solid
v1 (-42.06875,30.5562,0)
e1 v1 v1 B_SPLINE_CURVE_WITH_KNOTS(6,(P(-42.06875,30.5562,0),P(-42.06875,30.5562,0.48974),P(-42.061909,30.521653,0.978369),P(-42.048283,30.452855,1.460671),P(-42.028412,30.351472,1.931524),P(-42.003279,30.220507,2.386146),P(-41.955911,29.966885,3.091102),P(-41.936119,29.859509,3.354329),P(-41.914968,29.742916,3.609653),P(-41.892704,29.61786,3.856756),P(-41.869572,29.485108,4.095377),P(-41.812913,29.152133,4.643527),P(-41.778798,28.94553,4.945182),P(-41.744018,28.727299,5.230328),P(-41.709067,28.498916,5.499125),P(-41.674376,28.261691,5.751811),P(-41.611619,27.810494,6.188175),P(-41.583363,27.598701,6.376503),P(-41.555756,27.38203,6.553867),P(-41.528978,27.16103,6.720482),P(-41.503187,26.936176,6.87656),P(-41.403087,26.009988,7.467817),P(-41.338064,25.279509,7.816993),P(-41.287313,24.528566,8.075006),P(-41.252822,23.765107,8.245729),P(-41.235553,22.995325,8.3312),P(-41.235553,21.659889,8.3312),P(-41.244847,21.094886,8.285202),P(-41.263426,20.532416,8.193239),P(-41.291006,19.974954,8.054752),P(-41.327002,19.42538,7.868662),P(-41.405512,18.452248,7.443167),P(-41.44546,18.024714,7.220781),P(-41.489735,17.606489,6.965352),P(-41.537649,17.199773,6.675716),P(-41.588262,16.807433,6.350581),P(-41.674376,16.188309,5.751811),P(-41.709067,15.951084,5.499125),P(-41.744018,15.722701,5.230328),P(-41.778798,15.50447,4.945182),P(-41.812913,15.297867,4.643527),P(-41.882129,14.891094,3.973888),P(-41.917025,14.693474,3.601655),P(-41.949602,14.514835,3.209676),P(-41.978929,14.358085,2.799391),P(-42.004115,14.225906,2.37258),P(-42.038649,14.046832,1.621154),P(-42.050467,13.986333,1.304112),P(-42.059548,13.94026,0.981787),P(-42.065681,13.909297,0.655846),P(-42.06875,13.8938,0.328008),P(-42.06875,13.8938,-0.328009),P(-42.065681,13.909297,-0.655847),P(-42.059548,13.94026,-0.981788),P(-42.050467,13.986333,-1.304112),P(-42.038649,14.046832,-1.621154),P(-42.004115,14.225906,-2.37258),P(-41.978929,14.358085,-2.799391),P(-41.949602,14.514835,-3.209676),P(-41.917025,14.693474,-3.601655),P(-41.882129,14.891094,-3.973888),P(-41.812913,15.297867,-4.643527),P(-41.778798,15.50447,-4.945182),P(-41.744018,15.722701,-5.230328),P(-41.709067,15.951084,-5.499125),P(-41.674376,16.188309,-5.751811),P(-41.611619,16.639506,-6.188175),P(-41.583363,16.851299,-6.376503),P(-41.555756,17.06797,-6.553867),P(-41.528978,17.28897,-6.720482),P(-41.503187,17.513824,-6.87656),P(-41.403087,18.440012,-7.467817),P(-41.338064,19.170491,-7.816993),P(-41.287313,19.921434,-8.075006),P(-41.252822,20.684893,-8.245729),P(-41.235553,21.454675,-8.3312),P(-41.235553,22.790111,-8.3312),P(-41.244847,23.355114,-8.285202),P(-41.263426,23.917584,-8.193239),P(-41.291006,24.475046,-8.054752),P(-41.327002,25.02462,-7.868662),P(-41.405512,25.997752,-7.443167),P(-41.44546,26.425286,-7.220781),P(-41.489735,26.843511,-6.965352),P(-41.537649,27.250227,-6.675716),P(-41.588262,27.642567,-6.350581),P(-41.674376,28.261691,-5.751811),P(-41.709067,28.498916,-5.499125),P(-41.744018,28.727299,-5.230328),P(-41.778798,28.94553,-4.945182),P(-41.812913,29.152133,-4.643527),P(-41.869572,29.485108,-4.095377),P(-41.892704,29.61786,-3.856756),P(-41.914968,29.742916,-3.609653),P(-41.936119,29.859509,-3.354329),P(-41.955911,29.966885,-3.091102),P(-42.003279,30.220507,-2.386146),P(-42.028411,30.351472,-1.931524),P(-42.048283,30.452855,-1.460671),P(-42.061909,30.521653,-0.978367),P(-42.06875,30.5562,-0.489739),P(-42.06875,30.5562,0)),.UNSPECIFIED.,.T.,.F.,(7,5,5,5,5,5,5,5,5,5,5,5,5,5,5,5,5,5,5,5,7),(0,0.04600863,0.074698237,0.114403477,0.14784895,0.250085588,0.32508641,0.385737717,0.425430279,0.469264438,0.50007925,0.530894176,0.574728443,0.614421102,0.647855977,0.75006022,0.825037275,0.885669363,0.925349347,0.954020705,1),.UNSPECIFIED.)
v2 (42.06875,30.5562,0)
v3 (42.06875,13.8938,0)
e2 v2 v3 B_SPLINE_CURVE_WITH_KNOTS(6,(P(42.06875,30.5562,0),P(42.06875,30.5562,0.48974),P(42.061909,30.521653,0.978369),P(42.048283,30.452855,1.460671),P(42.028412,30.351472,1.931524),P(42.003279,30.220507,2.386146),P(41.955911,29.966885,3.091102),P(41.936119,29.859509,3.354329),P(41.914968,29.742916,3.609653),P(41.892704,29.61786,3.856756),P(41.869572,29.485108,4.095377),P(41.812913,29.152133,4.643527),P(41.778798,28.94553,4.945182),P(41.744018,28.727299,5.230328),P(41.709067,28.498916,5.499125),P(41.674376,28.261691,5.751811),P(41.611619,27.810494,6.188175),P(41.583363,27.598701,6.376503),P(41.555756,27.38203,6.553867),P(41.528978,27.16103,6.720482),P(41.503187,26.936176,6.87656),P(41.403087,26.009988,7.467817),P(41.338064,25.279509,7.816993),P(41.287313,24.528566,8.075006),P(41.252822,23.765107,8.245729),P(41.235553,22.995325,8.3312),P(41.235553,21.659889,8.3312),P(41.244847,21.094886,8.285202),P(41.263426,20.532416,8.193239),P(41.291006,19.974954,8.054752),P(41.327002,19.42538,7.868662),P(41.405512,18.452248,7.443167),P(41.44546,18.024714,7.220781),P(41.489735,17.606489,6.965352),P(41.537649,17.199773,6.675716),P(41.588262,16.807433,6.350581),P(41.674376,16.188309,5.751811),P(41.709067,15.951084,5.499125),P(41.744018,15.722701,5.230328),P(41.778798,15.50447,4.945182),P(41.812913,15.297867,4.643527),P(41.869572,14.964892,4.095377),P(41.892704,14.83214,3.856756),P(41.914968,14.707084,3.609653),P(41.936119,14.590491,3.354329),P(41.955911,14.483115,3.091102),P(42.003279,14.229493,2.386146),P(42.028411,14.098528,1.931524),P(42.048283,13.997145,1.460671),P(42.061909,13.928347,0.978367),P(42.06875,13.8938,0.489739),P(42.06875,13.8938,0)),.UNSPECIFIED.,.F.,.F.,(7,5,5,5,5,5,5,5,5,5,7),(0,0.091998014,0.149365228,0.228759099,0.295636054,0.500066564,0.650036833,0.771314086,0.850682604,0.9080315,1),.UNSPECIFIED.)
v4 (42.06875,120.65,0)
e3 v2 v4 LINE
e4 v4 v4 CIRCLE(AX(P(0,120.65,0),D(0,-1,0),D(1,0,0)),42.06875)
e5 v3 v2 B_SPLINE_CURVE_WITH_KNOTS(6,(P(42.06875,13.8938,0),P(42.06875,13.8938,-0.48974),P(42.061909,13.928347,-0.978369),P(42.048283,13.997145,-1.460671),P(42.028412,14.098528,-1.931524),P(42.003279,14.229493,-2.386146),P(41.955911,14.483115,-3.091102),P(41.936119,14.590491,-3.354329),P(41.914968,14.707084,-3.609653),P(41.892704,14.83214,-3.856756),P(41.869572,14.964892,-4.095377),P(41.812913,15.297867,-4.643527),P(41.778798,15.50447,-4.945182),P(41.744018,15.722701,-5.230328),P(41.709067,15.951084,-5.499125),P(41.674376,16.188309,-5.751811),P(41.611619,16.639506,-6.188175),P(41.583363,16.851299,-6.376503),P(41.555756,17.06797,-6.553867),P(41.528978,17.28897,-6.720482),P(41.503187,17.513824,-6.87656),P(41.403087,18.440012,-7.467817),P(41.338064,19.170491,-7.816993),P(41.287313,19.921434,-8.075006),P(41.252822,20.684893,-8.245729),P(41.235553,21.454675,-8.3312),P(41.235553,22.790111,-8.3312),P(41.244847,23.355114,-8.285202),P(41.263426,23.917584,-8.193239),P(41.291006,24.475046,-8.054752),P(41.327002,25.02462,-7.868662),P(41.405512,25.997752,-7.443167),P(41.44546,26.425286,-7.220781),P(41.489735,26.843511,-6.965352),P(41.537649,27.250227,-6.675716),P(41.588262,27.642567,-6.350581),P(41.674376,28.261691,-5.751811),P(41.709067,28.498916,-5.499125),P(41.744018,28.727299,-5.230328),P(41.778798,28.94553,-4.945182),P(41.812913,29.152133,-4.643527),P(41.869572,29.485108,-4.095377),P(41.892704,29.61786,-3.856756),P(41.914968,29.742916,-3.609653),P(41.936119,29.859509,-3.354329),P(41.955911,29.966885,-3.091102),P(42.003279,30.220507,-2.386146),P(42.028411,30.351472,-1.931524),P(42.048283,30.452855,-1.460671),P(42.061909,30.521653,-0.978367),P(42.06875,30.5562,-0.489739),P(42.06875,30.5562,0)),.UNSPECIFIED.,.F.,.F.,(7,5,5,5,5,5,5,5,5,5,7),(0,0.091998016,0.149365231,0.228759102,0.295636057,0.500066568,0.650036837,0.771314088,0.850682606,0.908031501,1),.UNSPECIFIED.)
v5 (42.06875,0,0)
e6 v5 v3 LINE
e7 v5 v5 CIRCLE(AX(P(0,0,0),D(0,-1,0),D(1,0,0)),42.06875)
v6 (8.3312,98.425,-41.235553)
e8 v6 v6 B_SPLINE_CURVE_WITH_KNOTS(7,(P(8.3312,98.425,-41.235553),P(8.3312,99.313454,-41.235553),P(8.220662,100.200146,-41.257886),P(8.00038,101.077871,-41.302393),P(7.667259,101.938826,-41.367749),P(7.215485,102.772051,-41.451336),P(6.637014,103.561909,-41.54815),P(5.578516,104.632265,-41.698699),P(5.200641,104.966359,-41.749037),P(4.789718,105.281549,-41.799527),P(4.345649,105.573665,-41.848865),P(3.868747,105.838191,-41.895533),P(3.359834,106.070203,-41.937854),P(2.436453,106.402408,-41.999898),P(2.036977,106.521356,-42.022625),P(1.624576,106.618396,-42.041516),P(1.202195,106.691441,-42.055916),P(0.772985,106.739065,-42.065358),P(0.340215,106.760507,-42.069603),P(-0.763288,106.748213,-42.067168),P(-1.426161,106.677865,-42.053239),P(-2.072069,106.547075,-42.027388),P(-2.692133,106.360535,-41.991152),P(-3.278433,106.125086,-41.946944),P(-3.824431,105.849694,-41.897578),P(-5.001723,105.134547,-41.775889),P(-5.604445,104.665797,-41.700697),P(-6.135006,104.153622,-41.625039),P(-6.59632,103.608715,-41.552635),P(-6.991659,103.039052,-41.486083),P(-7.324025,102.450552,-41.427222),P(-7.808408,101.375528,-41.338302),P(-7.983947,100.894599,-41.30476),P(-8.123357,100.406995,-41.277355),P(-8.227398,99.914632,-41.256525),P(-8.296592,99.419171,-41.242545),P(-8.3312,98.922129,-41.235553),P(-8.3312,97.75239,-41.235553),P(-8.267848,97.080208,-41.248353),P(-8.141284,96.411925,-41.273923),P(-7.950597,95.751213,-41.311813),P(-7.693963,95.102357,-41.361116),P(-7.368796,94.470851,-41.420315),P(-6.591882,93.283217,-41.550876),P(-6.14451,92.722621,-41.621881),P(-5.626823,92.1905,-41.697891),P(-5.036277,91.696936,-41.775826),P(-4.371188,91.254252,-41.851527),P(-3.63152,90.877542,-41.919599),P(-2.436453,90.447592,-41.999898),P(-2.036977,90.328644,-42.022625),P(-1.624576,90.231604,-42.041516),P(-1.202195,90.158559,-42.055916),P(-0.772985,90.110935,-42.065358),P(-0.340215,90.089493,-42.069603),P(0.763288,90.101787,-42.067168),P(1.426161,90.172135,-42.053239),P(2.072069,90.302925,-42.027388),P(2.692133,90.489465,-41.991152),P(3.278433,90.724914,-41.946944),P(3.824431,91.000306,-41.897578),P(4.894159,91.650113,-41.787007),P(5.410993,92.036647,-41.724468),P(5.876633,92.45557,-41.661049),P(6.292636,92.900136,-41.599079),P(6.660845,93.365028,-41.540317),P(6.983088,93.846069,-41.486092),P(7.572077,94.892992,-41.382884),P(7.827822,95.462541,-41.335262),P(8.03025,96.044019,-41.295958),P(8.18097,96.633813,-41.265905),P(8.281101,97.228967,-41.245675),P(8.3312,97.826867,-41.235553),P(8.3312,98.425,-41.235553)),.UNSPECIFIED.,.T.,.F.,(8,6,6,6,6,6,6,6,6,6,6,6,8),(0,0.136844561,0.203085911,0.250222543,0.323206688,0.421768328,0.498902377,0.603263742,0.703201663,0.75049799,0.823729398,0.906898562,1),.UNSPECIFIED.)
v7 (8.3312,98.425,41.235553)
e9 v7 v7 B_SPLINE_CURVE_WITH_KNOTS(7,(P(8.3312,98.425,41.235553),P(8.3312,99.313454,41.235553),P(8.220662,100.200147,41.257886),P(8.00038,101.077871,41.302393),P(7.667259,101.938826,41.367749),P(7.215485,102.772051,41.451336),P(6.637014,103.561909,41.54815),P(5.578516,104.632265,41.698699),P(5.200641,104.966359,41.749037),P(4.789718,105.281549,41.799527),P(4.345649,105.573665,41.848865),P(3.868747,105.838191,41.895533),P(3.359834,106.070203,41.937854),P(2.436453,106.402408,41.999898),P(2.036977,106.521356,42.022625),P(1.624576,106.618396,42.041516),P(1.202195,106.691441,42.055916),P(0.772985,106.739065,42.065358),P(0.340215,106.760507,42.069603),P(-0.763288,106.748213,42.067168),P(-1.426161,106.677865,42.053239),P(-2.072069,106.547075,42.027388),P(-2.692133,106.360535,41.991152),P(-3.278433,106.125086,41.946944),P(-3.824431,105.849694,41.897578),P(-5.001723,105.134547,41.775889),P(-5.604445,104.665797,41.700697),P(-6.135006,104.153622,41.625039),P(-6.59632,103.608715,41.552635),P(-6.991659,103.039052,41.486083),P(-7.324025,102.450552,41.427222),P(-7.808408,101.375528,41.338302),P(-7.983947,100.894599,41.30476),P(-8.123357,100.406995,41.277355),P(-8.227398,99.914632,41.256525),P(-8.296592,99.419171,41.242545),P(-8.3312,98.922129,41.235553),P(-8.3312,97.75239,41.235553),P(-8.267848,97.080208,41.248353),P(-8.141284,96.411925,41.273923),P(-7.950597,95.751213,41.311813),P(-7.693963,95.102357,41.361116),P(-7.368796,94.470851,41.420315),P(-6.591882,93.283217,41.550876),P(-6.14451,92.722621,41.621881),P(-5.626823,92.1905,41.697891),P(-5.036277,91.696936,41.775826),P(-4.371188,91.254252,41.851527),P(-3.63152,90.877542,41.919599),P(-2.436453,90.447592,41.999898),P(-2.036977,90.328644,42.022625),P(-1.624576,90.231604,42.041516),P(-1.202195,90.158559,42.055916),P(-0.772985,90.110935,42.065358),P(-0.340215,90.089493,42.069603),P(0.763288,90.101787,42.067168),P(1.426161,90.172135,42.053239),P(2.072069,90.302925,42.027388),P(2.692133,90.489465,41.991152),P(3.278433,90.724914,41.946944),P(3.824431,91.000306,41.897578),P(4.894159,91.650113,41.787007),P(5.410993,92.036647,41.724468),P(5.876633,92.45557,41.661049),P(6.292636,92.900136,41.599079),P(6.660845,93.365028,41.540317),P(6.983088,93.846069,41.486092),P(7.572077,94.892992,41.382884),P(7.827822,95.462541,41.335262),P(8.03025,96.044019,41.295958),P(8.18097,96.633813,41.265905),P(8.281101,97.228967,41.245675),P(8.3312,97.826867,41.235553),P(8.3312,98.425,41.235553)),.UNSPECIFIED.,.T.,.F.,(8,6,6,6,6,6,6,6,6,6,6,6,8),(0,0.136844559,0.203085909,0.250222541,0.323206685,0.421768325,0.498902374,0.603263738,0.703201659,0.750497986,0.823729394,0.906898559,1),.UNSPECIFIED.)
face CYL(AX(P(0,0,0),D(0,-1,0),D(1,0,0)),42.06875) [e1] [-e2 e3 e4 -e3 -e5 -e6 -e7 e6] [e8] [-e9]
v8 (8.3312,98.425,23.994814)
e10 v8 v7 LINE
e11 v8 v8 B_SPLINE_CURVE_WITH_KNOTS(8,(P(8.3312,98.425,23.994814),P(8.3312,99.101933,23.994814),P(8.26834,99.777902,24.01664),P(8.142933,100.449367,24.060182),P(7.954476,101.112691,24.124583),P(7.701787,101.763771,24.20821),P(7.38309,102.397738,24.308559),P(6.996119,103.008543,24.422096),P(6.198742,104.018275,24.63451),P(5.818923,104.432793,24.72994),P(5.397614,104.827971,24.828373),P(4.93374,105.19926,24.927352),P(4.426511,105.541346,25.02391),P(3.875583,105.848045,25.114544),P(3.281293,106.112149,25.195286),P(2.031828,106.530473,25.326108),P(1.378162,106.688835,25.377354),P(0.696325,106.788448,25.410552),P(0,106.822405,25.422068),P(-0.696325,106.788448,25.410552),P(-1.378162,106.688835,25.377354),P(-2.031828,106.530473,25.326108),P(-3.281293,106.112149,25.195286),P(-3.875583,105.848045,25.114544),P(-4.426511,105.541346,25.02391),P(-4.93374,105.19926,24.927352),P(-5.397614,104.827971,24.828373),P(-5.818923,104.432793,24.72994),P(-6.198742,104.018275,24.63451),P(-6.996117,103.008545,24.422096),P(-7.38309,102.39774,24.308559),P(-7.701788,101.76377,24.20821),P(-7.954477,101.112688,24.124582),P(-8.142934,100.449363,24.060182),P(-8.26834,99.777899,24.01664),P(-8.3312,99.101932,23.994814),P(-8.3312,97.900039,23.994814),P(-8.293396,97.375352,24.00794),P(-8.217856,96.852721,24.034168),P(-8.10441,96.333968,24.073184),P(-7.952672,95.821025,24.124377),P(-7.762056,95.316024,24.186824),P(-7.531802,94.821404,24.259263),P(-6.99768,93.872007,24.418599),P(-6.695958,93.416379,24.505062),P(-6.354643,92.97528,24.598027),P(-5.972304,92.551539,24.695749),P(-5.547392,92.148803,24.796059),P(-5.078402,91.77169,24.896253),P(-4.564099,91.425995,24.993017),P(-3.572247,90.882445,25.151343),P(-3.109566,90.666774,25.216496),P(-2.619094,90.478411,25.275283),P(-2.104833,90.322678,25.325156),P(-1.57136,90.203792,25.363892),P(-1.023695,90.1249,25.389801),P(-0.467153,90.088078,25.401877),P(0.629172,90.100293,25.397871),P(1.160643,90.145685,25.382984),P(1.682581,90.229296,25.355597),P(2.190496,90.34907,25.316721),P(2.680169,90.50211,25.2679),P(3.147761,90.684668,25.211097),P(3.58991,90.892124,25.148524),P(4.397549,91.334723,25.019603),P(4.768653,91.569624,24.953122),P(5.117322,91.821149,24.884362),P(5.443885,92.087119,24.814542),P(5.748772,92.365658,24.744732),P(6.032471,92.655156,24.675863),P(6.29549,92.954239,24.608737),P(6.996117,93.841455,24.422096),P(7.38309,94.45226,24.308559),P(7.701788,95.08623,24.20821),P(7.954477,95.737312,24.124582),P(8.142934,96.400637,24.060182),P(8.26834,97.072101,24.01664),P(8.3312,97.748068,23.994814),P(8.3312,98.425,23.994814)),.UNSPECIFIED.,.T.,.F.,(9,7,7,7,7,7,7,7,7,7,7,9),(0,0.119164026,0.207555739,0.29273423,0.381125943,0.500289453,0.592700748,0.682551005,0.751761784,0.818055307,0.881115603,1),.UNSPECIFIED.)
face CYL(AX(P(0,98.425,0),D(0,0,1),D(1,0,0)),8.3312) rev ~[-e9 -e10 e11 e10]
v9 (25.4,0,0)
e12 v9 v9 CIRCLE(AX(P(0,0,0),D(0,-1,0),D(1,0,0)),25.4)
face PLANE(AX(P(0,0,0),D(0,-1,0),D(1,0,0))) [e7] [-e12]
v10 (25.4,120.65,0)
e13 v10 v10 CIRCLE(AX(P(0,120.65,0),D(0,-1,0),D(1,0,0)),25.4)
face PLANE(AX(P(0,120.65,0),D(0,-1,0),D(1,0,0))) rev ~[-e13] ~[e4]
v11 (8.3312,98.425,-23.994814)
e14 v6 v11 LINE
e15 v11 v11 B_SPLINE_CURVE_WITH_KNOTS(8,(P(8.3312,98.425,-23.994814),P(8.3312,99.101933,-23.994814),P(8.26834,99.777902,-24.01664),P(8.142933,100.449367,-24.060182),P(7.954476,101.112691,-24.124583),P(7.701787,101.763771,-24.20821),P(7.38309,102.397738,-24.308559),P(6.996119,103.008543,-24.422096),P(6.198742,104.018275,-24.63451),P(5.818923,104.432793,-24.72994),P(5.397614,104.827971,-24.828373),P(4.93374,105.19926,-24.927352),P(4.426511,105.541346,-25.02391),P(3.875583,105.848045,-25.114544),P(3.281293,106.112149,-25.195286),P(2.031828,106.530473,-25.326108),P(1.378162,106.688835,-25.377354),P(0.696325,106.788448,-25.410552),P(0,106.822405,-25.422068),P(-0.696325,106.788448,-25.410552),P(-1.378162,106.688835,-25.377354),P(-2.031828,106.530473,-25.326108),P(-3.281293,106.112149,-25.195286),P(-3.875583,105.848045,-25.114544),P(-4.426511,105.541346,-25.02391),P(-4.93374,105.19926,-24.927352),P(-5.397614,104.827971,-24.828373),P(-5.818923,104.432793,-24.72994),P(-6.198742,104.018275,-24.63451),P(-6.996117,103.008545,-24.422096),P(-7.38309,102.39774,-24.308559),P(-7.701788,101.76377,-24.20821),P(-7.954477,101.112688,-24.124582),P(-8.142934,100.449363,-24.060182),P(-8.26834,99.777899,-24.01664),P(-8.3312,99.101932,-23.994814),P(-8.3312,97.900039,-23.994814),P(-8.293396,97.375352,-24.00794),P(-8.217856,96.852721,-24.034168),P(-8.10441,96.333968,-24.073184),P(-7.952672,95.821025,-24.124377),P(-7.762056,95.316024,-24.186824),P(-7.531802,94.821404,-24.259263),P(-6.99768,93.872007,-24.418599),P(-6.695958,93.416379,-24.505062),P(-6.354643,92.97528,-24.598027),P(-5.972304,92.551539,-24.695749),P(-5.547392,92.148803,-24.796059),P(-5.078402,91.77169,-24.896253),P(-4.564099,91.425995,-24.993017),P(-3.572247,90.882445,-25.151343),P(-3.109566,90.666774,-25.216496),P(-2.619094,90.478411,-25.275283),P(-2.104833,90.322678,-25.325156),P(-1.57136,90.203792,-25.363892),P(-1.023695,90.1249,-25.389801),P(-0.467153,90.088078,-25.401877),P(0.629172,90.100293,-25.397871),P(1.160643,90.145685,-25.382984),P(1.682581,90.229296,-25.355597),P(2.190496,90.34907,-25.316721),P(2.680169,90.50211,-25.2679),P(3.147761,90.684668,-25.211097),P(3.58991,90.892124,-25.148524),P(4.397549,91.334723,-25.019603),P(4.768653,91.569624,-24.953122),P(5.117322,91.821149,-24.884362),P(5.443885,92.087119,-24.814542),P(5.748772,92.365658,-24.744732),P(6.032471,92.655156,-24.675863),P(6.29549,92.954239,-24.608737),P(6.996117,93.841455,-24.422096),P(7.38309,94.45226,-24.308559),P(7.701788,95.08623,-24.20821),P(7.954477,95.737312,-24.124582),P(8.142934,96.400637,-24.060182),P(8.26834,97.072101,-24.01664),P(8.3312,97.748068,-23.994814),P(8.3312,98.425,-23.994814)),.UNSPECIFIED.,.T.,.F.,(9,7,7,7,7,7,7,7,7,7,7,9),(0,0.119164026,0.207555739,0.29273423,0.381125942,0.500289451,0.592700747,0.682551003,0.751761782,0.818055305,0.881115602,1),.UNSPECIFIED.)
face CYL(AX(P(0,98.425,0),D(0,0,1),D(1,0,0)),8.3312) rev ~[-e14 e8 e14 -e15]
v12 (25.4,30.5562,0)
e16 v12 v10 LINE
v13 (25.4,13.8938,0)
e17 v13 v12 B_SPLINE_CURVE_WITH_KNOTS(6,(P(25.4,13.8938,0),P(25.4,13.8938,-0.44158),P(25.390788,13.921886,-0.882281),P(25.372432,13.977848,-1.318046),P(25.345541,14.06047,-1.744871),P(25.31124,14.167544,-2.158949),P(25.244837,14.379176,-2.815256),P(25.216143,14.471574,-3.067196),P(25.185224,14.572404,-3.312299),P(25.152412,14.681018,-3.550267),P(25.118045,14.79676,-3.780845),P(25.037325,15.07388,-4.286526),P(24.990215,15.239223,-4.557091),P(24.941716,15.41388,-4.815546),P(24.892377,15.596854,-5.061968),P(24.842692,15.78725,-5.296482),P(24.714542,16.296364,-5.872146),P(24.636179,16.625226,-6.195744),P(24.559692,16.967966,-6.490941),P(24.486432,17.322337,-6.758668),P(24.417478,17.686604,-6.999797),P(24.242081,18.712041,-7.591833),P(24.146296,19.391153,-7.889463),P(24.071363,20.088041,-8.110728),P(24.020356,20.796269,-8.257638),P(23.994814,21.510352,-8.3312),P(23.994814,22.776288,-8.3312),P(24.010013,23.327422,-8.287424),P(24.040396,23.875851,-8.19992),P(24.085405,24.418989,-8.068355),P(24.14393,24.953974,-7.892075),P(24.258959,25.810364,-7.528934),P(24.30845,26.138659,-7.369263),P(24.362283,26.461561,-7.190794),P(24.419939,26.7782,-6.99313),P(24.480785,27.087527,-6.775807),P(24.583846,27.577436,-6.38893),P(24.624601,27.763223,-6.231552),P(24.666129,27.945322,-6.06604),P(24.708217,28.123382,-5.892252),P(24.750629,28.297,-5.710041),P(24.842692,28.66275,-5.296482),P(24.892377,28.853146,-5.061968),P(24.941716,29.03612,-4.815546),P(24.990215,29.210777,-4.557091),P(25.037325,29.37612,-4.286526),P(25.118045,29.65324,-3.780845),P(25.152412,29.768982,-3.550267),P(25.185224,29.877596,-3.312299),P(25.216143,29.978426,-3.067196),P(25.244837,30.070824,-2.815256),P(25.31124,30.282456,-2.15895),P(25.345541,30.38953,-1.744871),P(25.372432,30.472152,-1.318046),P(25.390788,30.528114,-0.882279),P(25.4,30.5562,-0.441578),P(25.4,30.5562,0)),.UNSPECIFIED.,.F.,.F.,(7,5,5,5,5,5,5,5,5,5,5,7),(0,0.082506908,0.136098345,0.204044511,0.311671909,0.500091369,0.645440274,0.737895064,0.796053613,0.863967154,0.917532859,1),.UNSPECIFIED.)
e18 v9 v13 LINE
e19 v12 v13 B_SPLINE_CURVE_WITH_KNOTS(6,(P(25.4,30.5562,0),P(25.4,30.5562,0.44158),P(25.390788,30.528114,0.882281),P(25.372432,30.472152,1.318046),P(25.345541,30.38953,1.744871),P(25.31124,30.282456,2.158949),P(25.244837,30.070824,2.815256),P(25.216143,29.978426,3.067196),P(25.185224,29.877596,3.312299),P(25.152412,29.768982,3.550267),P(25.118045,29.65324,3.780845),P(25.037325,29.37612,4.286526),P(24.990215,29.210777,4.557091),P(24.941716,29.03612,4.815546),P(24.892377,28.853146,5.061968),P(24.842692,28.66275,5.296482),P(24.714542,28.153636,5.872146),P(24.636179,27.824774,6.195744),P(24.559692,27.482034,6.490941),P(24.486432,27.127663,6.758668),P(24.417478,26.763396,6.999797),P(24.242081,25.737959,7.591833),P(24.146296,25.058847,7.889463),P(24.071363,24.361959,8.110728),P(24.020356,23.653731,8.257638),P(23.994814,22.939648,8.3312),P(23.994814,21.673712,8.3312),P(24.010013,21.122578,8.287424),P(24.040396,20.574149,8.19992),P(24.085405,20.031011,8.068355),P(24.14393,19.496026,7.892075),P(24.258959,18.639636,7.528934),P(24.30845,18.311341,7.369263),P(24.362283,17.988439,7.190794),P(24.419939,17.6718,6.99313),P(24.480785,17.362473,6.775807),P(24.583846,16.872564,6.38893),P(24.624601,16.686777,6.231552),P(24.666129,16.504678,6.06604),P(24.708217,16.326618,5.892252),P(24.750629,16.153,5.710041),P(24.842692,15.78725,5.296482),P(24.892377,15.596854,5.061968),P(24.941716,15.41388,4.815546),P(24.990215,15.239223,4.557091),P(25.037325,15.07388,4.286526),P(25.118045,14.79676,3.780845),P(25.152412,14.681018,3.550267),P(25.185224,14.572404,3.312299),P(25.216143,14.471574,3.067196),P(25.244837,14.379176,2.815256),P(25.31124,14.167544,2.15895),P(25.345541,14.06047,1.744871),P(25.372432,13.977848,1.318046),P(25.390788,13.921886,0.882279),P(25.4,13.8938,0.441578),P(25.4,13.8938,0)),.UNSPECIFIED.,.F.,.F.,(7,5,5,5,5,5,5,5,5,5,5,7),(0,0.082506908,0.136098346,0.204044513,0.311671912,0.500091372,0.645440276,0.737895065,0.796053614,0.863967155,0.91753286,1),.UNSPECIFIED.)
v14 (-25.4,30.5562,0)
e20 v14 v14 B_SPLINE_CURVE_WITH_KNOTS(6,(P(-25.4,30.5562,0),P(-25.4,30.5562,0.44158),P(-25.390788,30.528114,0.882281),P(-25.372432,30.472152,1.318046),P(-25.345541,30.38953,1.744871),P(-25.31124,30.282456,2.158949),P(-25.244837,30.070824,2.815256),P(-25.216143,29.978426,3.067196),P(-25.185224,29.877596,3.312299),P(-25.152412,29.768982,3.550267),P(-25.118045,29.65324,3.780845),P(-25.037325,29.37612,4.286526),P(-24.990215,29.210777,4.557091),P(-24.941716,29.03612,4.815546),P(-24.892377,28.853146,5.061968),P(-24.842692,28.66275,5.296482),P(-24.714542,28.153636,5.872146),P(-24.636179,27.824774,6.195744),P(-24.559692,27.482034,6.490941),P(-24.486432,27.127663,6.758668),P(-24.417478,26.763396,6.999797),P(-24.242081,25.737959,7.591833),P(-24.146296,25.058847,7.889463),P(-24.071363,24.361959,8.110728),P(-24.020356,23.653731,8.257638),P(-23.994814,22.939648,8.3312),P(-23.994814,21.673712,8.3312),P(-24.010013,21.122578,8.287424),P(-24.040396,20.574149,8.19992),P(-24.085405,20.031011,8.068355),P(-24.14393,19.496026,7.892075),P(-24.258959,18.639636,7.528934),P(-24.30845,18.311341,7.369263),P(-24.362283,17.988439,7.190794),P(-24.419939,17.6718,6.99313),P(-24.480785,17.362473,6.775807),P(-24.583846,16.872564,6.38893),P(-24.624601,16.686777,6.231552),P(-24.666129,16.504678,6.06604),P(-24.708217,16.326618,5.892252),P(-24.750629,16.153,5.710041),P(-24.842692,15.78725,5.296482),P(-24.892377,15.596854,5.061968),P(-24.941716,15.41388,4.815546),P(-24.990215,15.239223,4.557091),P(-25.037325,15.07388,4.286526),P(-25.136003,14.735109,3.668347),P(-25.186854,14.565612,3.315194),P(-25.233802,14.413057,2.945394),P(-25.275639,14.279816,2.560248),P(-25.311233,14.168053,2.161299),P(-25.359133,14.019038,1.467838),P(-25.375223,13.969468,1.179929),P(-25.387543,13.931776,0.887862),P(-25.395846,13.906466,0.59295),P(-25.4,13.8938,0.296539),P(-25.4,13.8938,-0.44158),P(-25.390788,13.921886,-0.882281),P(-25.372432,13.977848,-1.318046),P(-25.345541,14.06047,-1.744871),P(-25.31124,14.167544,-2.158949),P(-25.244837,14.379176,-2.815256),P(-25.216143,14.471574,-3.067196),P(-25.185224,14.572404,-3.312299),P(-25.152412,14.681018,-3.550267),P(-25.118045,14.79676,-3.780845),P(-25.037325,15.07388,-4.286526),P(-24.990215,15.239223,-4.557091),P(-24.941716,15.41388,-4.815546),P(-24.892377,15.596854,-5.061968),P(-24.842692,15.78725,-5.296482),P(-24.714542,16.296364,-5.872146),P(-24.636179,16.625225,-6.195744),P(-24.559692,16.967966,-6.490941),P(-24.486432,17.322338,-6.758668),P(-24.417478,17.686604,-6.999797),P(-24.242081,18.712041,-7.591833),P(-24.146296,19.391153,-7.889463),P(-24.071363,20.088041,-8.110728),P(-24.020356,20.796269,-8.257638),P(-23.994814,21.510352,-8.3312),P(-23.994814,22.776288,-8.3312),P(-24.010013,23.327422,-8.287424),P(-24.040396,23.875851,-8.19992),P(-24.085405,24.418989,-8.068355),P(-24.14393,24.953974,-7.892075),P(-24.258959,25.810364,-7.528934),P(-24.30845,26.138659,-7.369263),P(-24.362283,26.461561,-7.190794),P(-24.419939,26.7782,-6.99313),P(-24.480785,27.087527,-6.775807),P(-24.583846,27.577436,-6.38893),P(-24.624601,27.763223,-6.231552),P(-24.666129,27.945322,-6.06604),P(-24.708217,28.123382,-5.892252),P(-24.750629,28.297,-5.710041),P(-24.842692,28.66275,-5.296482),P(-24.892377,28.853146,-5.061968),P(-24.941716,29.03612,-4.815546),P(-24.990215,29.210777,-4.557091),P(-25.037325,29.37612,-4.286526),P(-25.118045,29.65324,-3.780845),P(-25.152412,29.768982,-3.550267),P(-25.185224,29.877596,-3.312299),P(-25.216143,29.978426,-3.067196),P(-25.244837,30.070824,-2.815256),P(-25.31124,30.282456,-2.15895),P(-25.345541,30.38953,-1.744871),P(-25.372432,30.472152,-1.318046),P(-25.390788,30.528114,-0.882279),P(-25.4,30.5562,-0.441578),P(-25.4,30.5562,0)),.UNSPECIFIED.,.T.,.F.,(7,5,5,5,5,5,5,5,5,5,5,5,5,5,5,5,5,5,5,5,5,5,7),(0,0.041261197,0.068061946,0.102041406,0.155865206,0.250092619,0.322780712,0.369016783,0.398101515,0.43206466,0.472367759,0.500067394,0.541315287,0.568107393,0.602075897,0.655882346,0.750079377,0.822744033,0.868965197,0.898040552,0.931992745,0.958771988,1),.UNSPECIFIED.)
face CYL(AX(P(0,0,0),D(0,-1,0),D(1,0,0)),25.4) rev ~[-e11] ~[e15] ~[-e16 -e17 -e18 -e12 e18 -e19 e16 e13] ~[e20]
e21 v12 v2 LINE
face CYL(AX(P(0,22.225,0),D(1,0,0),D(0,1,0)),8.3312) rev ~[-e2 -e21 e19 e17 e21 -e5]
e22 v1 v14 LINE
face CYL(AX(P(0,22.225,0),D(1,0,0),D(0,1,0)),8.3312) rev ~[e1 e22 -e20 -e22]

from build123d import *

# Parameters (mm, degrees)
F0_R     = 42.06875
F0_R_2   = 25.4
F1_DEPTH = 120.65
F2_R     = 8.3312
F3_DEPTH = 63.5
F4_R     = 8.3312
F5_DEPTH = 50.8


with BuildPart() as f1:
    # F0 (on Front) → F1 (new body)
    with BuildSketch(Plane.XZ):
        Circle(F0_R)
        Circle(F0_R_2, mode=Mode.SUBTRACT)
    extrude(amount=-F1_DEPTH)

    # F2 (on Right) → F3 (cut, symmetric)
    with BuildSketch(Plane.YZ):
        with Locations((22.225, 0)):
            Circle(F2_R)
    extrude(amount=F3_DEPTH, both=True, mode=Mode.SUBTRACT)

    # F4 (on Top) → F5 (cut, symmetric)
    with BuildSketch(Plane.XY):
        with Locations((0, 98.425)):
            Circle(F4_R)
    extrude(amount=F5_DEPTH, both=True, mode=Mode.SUBTRACT)


solid = f1.part
